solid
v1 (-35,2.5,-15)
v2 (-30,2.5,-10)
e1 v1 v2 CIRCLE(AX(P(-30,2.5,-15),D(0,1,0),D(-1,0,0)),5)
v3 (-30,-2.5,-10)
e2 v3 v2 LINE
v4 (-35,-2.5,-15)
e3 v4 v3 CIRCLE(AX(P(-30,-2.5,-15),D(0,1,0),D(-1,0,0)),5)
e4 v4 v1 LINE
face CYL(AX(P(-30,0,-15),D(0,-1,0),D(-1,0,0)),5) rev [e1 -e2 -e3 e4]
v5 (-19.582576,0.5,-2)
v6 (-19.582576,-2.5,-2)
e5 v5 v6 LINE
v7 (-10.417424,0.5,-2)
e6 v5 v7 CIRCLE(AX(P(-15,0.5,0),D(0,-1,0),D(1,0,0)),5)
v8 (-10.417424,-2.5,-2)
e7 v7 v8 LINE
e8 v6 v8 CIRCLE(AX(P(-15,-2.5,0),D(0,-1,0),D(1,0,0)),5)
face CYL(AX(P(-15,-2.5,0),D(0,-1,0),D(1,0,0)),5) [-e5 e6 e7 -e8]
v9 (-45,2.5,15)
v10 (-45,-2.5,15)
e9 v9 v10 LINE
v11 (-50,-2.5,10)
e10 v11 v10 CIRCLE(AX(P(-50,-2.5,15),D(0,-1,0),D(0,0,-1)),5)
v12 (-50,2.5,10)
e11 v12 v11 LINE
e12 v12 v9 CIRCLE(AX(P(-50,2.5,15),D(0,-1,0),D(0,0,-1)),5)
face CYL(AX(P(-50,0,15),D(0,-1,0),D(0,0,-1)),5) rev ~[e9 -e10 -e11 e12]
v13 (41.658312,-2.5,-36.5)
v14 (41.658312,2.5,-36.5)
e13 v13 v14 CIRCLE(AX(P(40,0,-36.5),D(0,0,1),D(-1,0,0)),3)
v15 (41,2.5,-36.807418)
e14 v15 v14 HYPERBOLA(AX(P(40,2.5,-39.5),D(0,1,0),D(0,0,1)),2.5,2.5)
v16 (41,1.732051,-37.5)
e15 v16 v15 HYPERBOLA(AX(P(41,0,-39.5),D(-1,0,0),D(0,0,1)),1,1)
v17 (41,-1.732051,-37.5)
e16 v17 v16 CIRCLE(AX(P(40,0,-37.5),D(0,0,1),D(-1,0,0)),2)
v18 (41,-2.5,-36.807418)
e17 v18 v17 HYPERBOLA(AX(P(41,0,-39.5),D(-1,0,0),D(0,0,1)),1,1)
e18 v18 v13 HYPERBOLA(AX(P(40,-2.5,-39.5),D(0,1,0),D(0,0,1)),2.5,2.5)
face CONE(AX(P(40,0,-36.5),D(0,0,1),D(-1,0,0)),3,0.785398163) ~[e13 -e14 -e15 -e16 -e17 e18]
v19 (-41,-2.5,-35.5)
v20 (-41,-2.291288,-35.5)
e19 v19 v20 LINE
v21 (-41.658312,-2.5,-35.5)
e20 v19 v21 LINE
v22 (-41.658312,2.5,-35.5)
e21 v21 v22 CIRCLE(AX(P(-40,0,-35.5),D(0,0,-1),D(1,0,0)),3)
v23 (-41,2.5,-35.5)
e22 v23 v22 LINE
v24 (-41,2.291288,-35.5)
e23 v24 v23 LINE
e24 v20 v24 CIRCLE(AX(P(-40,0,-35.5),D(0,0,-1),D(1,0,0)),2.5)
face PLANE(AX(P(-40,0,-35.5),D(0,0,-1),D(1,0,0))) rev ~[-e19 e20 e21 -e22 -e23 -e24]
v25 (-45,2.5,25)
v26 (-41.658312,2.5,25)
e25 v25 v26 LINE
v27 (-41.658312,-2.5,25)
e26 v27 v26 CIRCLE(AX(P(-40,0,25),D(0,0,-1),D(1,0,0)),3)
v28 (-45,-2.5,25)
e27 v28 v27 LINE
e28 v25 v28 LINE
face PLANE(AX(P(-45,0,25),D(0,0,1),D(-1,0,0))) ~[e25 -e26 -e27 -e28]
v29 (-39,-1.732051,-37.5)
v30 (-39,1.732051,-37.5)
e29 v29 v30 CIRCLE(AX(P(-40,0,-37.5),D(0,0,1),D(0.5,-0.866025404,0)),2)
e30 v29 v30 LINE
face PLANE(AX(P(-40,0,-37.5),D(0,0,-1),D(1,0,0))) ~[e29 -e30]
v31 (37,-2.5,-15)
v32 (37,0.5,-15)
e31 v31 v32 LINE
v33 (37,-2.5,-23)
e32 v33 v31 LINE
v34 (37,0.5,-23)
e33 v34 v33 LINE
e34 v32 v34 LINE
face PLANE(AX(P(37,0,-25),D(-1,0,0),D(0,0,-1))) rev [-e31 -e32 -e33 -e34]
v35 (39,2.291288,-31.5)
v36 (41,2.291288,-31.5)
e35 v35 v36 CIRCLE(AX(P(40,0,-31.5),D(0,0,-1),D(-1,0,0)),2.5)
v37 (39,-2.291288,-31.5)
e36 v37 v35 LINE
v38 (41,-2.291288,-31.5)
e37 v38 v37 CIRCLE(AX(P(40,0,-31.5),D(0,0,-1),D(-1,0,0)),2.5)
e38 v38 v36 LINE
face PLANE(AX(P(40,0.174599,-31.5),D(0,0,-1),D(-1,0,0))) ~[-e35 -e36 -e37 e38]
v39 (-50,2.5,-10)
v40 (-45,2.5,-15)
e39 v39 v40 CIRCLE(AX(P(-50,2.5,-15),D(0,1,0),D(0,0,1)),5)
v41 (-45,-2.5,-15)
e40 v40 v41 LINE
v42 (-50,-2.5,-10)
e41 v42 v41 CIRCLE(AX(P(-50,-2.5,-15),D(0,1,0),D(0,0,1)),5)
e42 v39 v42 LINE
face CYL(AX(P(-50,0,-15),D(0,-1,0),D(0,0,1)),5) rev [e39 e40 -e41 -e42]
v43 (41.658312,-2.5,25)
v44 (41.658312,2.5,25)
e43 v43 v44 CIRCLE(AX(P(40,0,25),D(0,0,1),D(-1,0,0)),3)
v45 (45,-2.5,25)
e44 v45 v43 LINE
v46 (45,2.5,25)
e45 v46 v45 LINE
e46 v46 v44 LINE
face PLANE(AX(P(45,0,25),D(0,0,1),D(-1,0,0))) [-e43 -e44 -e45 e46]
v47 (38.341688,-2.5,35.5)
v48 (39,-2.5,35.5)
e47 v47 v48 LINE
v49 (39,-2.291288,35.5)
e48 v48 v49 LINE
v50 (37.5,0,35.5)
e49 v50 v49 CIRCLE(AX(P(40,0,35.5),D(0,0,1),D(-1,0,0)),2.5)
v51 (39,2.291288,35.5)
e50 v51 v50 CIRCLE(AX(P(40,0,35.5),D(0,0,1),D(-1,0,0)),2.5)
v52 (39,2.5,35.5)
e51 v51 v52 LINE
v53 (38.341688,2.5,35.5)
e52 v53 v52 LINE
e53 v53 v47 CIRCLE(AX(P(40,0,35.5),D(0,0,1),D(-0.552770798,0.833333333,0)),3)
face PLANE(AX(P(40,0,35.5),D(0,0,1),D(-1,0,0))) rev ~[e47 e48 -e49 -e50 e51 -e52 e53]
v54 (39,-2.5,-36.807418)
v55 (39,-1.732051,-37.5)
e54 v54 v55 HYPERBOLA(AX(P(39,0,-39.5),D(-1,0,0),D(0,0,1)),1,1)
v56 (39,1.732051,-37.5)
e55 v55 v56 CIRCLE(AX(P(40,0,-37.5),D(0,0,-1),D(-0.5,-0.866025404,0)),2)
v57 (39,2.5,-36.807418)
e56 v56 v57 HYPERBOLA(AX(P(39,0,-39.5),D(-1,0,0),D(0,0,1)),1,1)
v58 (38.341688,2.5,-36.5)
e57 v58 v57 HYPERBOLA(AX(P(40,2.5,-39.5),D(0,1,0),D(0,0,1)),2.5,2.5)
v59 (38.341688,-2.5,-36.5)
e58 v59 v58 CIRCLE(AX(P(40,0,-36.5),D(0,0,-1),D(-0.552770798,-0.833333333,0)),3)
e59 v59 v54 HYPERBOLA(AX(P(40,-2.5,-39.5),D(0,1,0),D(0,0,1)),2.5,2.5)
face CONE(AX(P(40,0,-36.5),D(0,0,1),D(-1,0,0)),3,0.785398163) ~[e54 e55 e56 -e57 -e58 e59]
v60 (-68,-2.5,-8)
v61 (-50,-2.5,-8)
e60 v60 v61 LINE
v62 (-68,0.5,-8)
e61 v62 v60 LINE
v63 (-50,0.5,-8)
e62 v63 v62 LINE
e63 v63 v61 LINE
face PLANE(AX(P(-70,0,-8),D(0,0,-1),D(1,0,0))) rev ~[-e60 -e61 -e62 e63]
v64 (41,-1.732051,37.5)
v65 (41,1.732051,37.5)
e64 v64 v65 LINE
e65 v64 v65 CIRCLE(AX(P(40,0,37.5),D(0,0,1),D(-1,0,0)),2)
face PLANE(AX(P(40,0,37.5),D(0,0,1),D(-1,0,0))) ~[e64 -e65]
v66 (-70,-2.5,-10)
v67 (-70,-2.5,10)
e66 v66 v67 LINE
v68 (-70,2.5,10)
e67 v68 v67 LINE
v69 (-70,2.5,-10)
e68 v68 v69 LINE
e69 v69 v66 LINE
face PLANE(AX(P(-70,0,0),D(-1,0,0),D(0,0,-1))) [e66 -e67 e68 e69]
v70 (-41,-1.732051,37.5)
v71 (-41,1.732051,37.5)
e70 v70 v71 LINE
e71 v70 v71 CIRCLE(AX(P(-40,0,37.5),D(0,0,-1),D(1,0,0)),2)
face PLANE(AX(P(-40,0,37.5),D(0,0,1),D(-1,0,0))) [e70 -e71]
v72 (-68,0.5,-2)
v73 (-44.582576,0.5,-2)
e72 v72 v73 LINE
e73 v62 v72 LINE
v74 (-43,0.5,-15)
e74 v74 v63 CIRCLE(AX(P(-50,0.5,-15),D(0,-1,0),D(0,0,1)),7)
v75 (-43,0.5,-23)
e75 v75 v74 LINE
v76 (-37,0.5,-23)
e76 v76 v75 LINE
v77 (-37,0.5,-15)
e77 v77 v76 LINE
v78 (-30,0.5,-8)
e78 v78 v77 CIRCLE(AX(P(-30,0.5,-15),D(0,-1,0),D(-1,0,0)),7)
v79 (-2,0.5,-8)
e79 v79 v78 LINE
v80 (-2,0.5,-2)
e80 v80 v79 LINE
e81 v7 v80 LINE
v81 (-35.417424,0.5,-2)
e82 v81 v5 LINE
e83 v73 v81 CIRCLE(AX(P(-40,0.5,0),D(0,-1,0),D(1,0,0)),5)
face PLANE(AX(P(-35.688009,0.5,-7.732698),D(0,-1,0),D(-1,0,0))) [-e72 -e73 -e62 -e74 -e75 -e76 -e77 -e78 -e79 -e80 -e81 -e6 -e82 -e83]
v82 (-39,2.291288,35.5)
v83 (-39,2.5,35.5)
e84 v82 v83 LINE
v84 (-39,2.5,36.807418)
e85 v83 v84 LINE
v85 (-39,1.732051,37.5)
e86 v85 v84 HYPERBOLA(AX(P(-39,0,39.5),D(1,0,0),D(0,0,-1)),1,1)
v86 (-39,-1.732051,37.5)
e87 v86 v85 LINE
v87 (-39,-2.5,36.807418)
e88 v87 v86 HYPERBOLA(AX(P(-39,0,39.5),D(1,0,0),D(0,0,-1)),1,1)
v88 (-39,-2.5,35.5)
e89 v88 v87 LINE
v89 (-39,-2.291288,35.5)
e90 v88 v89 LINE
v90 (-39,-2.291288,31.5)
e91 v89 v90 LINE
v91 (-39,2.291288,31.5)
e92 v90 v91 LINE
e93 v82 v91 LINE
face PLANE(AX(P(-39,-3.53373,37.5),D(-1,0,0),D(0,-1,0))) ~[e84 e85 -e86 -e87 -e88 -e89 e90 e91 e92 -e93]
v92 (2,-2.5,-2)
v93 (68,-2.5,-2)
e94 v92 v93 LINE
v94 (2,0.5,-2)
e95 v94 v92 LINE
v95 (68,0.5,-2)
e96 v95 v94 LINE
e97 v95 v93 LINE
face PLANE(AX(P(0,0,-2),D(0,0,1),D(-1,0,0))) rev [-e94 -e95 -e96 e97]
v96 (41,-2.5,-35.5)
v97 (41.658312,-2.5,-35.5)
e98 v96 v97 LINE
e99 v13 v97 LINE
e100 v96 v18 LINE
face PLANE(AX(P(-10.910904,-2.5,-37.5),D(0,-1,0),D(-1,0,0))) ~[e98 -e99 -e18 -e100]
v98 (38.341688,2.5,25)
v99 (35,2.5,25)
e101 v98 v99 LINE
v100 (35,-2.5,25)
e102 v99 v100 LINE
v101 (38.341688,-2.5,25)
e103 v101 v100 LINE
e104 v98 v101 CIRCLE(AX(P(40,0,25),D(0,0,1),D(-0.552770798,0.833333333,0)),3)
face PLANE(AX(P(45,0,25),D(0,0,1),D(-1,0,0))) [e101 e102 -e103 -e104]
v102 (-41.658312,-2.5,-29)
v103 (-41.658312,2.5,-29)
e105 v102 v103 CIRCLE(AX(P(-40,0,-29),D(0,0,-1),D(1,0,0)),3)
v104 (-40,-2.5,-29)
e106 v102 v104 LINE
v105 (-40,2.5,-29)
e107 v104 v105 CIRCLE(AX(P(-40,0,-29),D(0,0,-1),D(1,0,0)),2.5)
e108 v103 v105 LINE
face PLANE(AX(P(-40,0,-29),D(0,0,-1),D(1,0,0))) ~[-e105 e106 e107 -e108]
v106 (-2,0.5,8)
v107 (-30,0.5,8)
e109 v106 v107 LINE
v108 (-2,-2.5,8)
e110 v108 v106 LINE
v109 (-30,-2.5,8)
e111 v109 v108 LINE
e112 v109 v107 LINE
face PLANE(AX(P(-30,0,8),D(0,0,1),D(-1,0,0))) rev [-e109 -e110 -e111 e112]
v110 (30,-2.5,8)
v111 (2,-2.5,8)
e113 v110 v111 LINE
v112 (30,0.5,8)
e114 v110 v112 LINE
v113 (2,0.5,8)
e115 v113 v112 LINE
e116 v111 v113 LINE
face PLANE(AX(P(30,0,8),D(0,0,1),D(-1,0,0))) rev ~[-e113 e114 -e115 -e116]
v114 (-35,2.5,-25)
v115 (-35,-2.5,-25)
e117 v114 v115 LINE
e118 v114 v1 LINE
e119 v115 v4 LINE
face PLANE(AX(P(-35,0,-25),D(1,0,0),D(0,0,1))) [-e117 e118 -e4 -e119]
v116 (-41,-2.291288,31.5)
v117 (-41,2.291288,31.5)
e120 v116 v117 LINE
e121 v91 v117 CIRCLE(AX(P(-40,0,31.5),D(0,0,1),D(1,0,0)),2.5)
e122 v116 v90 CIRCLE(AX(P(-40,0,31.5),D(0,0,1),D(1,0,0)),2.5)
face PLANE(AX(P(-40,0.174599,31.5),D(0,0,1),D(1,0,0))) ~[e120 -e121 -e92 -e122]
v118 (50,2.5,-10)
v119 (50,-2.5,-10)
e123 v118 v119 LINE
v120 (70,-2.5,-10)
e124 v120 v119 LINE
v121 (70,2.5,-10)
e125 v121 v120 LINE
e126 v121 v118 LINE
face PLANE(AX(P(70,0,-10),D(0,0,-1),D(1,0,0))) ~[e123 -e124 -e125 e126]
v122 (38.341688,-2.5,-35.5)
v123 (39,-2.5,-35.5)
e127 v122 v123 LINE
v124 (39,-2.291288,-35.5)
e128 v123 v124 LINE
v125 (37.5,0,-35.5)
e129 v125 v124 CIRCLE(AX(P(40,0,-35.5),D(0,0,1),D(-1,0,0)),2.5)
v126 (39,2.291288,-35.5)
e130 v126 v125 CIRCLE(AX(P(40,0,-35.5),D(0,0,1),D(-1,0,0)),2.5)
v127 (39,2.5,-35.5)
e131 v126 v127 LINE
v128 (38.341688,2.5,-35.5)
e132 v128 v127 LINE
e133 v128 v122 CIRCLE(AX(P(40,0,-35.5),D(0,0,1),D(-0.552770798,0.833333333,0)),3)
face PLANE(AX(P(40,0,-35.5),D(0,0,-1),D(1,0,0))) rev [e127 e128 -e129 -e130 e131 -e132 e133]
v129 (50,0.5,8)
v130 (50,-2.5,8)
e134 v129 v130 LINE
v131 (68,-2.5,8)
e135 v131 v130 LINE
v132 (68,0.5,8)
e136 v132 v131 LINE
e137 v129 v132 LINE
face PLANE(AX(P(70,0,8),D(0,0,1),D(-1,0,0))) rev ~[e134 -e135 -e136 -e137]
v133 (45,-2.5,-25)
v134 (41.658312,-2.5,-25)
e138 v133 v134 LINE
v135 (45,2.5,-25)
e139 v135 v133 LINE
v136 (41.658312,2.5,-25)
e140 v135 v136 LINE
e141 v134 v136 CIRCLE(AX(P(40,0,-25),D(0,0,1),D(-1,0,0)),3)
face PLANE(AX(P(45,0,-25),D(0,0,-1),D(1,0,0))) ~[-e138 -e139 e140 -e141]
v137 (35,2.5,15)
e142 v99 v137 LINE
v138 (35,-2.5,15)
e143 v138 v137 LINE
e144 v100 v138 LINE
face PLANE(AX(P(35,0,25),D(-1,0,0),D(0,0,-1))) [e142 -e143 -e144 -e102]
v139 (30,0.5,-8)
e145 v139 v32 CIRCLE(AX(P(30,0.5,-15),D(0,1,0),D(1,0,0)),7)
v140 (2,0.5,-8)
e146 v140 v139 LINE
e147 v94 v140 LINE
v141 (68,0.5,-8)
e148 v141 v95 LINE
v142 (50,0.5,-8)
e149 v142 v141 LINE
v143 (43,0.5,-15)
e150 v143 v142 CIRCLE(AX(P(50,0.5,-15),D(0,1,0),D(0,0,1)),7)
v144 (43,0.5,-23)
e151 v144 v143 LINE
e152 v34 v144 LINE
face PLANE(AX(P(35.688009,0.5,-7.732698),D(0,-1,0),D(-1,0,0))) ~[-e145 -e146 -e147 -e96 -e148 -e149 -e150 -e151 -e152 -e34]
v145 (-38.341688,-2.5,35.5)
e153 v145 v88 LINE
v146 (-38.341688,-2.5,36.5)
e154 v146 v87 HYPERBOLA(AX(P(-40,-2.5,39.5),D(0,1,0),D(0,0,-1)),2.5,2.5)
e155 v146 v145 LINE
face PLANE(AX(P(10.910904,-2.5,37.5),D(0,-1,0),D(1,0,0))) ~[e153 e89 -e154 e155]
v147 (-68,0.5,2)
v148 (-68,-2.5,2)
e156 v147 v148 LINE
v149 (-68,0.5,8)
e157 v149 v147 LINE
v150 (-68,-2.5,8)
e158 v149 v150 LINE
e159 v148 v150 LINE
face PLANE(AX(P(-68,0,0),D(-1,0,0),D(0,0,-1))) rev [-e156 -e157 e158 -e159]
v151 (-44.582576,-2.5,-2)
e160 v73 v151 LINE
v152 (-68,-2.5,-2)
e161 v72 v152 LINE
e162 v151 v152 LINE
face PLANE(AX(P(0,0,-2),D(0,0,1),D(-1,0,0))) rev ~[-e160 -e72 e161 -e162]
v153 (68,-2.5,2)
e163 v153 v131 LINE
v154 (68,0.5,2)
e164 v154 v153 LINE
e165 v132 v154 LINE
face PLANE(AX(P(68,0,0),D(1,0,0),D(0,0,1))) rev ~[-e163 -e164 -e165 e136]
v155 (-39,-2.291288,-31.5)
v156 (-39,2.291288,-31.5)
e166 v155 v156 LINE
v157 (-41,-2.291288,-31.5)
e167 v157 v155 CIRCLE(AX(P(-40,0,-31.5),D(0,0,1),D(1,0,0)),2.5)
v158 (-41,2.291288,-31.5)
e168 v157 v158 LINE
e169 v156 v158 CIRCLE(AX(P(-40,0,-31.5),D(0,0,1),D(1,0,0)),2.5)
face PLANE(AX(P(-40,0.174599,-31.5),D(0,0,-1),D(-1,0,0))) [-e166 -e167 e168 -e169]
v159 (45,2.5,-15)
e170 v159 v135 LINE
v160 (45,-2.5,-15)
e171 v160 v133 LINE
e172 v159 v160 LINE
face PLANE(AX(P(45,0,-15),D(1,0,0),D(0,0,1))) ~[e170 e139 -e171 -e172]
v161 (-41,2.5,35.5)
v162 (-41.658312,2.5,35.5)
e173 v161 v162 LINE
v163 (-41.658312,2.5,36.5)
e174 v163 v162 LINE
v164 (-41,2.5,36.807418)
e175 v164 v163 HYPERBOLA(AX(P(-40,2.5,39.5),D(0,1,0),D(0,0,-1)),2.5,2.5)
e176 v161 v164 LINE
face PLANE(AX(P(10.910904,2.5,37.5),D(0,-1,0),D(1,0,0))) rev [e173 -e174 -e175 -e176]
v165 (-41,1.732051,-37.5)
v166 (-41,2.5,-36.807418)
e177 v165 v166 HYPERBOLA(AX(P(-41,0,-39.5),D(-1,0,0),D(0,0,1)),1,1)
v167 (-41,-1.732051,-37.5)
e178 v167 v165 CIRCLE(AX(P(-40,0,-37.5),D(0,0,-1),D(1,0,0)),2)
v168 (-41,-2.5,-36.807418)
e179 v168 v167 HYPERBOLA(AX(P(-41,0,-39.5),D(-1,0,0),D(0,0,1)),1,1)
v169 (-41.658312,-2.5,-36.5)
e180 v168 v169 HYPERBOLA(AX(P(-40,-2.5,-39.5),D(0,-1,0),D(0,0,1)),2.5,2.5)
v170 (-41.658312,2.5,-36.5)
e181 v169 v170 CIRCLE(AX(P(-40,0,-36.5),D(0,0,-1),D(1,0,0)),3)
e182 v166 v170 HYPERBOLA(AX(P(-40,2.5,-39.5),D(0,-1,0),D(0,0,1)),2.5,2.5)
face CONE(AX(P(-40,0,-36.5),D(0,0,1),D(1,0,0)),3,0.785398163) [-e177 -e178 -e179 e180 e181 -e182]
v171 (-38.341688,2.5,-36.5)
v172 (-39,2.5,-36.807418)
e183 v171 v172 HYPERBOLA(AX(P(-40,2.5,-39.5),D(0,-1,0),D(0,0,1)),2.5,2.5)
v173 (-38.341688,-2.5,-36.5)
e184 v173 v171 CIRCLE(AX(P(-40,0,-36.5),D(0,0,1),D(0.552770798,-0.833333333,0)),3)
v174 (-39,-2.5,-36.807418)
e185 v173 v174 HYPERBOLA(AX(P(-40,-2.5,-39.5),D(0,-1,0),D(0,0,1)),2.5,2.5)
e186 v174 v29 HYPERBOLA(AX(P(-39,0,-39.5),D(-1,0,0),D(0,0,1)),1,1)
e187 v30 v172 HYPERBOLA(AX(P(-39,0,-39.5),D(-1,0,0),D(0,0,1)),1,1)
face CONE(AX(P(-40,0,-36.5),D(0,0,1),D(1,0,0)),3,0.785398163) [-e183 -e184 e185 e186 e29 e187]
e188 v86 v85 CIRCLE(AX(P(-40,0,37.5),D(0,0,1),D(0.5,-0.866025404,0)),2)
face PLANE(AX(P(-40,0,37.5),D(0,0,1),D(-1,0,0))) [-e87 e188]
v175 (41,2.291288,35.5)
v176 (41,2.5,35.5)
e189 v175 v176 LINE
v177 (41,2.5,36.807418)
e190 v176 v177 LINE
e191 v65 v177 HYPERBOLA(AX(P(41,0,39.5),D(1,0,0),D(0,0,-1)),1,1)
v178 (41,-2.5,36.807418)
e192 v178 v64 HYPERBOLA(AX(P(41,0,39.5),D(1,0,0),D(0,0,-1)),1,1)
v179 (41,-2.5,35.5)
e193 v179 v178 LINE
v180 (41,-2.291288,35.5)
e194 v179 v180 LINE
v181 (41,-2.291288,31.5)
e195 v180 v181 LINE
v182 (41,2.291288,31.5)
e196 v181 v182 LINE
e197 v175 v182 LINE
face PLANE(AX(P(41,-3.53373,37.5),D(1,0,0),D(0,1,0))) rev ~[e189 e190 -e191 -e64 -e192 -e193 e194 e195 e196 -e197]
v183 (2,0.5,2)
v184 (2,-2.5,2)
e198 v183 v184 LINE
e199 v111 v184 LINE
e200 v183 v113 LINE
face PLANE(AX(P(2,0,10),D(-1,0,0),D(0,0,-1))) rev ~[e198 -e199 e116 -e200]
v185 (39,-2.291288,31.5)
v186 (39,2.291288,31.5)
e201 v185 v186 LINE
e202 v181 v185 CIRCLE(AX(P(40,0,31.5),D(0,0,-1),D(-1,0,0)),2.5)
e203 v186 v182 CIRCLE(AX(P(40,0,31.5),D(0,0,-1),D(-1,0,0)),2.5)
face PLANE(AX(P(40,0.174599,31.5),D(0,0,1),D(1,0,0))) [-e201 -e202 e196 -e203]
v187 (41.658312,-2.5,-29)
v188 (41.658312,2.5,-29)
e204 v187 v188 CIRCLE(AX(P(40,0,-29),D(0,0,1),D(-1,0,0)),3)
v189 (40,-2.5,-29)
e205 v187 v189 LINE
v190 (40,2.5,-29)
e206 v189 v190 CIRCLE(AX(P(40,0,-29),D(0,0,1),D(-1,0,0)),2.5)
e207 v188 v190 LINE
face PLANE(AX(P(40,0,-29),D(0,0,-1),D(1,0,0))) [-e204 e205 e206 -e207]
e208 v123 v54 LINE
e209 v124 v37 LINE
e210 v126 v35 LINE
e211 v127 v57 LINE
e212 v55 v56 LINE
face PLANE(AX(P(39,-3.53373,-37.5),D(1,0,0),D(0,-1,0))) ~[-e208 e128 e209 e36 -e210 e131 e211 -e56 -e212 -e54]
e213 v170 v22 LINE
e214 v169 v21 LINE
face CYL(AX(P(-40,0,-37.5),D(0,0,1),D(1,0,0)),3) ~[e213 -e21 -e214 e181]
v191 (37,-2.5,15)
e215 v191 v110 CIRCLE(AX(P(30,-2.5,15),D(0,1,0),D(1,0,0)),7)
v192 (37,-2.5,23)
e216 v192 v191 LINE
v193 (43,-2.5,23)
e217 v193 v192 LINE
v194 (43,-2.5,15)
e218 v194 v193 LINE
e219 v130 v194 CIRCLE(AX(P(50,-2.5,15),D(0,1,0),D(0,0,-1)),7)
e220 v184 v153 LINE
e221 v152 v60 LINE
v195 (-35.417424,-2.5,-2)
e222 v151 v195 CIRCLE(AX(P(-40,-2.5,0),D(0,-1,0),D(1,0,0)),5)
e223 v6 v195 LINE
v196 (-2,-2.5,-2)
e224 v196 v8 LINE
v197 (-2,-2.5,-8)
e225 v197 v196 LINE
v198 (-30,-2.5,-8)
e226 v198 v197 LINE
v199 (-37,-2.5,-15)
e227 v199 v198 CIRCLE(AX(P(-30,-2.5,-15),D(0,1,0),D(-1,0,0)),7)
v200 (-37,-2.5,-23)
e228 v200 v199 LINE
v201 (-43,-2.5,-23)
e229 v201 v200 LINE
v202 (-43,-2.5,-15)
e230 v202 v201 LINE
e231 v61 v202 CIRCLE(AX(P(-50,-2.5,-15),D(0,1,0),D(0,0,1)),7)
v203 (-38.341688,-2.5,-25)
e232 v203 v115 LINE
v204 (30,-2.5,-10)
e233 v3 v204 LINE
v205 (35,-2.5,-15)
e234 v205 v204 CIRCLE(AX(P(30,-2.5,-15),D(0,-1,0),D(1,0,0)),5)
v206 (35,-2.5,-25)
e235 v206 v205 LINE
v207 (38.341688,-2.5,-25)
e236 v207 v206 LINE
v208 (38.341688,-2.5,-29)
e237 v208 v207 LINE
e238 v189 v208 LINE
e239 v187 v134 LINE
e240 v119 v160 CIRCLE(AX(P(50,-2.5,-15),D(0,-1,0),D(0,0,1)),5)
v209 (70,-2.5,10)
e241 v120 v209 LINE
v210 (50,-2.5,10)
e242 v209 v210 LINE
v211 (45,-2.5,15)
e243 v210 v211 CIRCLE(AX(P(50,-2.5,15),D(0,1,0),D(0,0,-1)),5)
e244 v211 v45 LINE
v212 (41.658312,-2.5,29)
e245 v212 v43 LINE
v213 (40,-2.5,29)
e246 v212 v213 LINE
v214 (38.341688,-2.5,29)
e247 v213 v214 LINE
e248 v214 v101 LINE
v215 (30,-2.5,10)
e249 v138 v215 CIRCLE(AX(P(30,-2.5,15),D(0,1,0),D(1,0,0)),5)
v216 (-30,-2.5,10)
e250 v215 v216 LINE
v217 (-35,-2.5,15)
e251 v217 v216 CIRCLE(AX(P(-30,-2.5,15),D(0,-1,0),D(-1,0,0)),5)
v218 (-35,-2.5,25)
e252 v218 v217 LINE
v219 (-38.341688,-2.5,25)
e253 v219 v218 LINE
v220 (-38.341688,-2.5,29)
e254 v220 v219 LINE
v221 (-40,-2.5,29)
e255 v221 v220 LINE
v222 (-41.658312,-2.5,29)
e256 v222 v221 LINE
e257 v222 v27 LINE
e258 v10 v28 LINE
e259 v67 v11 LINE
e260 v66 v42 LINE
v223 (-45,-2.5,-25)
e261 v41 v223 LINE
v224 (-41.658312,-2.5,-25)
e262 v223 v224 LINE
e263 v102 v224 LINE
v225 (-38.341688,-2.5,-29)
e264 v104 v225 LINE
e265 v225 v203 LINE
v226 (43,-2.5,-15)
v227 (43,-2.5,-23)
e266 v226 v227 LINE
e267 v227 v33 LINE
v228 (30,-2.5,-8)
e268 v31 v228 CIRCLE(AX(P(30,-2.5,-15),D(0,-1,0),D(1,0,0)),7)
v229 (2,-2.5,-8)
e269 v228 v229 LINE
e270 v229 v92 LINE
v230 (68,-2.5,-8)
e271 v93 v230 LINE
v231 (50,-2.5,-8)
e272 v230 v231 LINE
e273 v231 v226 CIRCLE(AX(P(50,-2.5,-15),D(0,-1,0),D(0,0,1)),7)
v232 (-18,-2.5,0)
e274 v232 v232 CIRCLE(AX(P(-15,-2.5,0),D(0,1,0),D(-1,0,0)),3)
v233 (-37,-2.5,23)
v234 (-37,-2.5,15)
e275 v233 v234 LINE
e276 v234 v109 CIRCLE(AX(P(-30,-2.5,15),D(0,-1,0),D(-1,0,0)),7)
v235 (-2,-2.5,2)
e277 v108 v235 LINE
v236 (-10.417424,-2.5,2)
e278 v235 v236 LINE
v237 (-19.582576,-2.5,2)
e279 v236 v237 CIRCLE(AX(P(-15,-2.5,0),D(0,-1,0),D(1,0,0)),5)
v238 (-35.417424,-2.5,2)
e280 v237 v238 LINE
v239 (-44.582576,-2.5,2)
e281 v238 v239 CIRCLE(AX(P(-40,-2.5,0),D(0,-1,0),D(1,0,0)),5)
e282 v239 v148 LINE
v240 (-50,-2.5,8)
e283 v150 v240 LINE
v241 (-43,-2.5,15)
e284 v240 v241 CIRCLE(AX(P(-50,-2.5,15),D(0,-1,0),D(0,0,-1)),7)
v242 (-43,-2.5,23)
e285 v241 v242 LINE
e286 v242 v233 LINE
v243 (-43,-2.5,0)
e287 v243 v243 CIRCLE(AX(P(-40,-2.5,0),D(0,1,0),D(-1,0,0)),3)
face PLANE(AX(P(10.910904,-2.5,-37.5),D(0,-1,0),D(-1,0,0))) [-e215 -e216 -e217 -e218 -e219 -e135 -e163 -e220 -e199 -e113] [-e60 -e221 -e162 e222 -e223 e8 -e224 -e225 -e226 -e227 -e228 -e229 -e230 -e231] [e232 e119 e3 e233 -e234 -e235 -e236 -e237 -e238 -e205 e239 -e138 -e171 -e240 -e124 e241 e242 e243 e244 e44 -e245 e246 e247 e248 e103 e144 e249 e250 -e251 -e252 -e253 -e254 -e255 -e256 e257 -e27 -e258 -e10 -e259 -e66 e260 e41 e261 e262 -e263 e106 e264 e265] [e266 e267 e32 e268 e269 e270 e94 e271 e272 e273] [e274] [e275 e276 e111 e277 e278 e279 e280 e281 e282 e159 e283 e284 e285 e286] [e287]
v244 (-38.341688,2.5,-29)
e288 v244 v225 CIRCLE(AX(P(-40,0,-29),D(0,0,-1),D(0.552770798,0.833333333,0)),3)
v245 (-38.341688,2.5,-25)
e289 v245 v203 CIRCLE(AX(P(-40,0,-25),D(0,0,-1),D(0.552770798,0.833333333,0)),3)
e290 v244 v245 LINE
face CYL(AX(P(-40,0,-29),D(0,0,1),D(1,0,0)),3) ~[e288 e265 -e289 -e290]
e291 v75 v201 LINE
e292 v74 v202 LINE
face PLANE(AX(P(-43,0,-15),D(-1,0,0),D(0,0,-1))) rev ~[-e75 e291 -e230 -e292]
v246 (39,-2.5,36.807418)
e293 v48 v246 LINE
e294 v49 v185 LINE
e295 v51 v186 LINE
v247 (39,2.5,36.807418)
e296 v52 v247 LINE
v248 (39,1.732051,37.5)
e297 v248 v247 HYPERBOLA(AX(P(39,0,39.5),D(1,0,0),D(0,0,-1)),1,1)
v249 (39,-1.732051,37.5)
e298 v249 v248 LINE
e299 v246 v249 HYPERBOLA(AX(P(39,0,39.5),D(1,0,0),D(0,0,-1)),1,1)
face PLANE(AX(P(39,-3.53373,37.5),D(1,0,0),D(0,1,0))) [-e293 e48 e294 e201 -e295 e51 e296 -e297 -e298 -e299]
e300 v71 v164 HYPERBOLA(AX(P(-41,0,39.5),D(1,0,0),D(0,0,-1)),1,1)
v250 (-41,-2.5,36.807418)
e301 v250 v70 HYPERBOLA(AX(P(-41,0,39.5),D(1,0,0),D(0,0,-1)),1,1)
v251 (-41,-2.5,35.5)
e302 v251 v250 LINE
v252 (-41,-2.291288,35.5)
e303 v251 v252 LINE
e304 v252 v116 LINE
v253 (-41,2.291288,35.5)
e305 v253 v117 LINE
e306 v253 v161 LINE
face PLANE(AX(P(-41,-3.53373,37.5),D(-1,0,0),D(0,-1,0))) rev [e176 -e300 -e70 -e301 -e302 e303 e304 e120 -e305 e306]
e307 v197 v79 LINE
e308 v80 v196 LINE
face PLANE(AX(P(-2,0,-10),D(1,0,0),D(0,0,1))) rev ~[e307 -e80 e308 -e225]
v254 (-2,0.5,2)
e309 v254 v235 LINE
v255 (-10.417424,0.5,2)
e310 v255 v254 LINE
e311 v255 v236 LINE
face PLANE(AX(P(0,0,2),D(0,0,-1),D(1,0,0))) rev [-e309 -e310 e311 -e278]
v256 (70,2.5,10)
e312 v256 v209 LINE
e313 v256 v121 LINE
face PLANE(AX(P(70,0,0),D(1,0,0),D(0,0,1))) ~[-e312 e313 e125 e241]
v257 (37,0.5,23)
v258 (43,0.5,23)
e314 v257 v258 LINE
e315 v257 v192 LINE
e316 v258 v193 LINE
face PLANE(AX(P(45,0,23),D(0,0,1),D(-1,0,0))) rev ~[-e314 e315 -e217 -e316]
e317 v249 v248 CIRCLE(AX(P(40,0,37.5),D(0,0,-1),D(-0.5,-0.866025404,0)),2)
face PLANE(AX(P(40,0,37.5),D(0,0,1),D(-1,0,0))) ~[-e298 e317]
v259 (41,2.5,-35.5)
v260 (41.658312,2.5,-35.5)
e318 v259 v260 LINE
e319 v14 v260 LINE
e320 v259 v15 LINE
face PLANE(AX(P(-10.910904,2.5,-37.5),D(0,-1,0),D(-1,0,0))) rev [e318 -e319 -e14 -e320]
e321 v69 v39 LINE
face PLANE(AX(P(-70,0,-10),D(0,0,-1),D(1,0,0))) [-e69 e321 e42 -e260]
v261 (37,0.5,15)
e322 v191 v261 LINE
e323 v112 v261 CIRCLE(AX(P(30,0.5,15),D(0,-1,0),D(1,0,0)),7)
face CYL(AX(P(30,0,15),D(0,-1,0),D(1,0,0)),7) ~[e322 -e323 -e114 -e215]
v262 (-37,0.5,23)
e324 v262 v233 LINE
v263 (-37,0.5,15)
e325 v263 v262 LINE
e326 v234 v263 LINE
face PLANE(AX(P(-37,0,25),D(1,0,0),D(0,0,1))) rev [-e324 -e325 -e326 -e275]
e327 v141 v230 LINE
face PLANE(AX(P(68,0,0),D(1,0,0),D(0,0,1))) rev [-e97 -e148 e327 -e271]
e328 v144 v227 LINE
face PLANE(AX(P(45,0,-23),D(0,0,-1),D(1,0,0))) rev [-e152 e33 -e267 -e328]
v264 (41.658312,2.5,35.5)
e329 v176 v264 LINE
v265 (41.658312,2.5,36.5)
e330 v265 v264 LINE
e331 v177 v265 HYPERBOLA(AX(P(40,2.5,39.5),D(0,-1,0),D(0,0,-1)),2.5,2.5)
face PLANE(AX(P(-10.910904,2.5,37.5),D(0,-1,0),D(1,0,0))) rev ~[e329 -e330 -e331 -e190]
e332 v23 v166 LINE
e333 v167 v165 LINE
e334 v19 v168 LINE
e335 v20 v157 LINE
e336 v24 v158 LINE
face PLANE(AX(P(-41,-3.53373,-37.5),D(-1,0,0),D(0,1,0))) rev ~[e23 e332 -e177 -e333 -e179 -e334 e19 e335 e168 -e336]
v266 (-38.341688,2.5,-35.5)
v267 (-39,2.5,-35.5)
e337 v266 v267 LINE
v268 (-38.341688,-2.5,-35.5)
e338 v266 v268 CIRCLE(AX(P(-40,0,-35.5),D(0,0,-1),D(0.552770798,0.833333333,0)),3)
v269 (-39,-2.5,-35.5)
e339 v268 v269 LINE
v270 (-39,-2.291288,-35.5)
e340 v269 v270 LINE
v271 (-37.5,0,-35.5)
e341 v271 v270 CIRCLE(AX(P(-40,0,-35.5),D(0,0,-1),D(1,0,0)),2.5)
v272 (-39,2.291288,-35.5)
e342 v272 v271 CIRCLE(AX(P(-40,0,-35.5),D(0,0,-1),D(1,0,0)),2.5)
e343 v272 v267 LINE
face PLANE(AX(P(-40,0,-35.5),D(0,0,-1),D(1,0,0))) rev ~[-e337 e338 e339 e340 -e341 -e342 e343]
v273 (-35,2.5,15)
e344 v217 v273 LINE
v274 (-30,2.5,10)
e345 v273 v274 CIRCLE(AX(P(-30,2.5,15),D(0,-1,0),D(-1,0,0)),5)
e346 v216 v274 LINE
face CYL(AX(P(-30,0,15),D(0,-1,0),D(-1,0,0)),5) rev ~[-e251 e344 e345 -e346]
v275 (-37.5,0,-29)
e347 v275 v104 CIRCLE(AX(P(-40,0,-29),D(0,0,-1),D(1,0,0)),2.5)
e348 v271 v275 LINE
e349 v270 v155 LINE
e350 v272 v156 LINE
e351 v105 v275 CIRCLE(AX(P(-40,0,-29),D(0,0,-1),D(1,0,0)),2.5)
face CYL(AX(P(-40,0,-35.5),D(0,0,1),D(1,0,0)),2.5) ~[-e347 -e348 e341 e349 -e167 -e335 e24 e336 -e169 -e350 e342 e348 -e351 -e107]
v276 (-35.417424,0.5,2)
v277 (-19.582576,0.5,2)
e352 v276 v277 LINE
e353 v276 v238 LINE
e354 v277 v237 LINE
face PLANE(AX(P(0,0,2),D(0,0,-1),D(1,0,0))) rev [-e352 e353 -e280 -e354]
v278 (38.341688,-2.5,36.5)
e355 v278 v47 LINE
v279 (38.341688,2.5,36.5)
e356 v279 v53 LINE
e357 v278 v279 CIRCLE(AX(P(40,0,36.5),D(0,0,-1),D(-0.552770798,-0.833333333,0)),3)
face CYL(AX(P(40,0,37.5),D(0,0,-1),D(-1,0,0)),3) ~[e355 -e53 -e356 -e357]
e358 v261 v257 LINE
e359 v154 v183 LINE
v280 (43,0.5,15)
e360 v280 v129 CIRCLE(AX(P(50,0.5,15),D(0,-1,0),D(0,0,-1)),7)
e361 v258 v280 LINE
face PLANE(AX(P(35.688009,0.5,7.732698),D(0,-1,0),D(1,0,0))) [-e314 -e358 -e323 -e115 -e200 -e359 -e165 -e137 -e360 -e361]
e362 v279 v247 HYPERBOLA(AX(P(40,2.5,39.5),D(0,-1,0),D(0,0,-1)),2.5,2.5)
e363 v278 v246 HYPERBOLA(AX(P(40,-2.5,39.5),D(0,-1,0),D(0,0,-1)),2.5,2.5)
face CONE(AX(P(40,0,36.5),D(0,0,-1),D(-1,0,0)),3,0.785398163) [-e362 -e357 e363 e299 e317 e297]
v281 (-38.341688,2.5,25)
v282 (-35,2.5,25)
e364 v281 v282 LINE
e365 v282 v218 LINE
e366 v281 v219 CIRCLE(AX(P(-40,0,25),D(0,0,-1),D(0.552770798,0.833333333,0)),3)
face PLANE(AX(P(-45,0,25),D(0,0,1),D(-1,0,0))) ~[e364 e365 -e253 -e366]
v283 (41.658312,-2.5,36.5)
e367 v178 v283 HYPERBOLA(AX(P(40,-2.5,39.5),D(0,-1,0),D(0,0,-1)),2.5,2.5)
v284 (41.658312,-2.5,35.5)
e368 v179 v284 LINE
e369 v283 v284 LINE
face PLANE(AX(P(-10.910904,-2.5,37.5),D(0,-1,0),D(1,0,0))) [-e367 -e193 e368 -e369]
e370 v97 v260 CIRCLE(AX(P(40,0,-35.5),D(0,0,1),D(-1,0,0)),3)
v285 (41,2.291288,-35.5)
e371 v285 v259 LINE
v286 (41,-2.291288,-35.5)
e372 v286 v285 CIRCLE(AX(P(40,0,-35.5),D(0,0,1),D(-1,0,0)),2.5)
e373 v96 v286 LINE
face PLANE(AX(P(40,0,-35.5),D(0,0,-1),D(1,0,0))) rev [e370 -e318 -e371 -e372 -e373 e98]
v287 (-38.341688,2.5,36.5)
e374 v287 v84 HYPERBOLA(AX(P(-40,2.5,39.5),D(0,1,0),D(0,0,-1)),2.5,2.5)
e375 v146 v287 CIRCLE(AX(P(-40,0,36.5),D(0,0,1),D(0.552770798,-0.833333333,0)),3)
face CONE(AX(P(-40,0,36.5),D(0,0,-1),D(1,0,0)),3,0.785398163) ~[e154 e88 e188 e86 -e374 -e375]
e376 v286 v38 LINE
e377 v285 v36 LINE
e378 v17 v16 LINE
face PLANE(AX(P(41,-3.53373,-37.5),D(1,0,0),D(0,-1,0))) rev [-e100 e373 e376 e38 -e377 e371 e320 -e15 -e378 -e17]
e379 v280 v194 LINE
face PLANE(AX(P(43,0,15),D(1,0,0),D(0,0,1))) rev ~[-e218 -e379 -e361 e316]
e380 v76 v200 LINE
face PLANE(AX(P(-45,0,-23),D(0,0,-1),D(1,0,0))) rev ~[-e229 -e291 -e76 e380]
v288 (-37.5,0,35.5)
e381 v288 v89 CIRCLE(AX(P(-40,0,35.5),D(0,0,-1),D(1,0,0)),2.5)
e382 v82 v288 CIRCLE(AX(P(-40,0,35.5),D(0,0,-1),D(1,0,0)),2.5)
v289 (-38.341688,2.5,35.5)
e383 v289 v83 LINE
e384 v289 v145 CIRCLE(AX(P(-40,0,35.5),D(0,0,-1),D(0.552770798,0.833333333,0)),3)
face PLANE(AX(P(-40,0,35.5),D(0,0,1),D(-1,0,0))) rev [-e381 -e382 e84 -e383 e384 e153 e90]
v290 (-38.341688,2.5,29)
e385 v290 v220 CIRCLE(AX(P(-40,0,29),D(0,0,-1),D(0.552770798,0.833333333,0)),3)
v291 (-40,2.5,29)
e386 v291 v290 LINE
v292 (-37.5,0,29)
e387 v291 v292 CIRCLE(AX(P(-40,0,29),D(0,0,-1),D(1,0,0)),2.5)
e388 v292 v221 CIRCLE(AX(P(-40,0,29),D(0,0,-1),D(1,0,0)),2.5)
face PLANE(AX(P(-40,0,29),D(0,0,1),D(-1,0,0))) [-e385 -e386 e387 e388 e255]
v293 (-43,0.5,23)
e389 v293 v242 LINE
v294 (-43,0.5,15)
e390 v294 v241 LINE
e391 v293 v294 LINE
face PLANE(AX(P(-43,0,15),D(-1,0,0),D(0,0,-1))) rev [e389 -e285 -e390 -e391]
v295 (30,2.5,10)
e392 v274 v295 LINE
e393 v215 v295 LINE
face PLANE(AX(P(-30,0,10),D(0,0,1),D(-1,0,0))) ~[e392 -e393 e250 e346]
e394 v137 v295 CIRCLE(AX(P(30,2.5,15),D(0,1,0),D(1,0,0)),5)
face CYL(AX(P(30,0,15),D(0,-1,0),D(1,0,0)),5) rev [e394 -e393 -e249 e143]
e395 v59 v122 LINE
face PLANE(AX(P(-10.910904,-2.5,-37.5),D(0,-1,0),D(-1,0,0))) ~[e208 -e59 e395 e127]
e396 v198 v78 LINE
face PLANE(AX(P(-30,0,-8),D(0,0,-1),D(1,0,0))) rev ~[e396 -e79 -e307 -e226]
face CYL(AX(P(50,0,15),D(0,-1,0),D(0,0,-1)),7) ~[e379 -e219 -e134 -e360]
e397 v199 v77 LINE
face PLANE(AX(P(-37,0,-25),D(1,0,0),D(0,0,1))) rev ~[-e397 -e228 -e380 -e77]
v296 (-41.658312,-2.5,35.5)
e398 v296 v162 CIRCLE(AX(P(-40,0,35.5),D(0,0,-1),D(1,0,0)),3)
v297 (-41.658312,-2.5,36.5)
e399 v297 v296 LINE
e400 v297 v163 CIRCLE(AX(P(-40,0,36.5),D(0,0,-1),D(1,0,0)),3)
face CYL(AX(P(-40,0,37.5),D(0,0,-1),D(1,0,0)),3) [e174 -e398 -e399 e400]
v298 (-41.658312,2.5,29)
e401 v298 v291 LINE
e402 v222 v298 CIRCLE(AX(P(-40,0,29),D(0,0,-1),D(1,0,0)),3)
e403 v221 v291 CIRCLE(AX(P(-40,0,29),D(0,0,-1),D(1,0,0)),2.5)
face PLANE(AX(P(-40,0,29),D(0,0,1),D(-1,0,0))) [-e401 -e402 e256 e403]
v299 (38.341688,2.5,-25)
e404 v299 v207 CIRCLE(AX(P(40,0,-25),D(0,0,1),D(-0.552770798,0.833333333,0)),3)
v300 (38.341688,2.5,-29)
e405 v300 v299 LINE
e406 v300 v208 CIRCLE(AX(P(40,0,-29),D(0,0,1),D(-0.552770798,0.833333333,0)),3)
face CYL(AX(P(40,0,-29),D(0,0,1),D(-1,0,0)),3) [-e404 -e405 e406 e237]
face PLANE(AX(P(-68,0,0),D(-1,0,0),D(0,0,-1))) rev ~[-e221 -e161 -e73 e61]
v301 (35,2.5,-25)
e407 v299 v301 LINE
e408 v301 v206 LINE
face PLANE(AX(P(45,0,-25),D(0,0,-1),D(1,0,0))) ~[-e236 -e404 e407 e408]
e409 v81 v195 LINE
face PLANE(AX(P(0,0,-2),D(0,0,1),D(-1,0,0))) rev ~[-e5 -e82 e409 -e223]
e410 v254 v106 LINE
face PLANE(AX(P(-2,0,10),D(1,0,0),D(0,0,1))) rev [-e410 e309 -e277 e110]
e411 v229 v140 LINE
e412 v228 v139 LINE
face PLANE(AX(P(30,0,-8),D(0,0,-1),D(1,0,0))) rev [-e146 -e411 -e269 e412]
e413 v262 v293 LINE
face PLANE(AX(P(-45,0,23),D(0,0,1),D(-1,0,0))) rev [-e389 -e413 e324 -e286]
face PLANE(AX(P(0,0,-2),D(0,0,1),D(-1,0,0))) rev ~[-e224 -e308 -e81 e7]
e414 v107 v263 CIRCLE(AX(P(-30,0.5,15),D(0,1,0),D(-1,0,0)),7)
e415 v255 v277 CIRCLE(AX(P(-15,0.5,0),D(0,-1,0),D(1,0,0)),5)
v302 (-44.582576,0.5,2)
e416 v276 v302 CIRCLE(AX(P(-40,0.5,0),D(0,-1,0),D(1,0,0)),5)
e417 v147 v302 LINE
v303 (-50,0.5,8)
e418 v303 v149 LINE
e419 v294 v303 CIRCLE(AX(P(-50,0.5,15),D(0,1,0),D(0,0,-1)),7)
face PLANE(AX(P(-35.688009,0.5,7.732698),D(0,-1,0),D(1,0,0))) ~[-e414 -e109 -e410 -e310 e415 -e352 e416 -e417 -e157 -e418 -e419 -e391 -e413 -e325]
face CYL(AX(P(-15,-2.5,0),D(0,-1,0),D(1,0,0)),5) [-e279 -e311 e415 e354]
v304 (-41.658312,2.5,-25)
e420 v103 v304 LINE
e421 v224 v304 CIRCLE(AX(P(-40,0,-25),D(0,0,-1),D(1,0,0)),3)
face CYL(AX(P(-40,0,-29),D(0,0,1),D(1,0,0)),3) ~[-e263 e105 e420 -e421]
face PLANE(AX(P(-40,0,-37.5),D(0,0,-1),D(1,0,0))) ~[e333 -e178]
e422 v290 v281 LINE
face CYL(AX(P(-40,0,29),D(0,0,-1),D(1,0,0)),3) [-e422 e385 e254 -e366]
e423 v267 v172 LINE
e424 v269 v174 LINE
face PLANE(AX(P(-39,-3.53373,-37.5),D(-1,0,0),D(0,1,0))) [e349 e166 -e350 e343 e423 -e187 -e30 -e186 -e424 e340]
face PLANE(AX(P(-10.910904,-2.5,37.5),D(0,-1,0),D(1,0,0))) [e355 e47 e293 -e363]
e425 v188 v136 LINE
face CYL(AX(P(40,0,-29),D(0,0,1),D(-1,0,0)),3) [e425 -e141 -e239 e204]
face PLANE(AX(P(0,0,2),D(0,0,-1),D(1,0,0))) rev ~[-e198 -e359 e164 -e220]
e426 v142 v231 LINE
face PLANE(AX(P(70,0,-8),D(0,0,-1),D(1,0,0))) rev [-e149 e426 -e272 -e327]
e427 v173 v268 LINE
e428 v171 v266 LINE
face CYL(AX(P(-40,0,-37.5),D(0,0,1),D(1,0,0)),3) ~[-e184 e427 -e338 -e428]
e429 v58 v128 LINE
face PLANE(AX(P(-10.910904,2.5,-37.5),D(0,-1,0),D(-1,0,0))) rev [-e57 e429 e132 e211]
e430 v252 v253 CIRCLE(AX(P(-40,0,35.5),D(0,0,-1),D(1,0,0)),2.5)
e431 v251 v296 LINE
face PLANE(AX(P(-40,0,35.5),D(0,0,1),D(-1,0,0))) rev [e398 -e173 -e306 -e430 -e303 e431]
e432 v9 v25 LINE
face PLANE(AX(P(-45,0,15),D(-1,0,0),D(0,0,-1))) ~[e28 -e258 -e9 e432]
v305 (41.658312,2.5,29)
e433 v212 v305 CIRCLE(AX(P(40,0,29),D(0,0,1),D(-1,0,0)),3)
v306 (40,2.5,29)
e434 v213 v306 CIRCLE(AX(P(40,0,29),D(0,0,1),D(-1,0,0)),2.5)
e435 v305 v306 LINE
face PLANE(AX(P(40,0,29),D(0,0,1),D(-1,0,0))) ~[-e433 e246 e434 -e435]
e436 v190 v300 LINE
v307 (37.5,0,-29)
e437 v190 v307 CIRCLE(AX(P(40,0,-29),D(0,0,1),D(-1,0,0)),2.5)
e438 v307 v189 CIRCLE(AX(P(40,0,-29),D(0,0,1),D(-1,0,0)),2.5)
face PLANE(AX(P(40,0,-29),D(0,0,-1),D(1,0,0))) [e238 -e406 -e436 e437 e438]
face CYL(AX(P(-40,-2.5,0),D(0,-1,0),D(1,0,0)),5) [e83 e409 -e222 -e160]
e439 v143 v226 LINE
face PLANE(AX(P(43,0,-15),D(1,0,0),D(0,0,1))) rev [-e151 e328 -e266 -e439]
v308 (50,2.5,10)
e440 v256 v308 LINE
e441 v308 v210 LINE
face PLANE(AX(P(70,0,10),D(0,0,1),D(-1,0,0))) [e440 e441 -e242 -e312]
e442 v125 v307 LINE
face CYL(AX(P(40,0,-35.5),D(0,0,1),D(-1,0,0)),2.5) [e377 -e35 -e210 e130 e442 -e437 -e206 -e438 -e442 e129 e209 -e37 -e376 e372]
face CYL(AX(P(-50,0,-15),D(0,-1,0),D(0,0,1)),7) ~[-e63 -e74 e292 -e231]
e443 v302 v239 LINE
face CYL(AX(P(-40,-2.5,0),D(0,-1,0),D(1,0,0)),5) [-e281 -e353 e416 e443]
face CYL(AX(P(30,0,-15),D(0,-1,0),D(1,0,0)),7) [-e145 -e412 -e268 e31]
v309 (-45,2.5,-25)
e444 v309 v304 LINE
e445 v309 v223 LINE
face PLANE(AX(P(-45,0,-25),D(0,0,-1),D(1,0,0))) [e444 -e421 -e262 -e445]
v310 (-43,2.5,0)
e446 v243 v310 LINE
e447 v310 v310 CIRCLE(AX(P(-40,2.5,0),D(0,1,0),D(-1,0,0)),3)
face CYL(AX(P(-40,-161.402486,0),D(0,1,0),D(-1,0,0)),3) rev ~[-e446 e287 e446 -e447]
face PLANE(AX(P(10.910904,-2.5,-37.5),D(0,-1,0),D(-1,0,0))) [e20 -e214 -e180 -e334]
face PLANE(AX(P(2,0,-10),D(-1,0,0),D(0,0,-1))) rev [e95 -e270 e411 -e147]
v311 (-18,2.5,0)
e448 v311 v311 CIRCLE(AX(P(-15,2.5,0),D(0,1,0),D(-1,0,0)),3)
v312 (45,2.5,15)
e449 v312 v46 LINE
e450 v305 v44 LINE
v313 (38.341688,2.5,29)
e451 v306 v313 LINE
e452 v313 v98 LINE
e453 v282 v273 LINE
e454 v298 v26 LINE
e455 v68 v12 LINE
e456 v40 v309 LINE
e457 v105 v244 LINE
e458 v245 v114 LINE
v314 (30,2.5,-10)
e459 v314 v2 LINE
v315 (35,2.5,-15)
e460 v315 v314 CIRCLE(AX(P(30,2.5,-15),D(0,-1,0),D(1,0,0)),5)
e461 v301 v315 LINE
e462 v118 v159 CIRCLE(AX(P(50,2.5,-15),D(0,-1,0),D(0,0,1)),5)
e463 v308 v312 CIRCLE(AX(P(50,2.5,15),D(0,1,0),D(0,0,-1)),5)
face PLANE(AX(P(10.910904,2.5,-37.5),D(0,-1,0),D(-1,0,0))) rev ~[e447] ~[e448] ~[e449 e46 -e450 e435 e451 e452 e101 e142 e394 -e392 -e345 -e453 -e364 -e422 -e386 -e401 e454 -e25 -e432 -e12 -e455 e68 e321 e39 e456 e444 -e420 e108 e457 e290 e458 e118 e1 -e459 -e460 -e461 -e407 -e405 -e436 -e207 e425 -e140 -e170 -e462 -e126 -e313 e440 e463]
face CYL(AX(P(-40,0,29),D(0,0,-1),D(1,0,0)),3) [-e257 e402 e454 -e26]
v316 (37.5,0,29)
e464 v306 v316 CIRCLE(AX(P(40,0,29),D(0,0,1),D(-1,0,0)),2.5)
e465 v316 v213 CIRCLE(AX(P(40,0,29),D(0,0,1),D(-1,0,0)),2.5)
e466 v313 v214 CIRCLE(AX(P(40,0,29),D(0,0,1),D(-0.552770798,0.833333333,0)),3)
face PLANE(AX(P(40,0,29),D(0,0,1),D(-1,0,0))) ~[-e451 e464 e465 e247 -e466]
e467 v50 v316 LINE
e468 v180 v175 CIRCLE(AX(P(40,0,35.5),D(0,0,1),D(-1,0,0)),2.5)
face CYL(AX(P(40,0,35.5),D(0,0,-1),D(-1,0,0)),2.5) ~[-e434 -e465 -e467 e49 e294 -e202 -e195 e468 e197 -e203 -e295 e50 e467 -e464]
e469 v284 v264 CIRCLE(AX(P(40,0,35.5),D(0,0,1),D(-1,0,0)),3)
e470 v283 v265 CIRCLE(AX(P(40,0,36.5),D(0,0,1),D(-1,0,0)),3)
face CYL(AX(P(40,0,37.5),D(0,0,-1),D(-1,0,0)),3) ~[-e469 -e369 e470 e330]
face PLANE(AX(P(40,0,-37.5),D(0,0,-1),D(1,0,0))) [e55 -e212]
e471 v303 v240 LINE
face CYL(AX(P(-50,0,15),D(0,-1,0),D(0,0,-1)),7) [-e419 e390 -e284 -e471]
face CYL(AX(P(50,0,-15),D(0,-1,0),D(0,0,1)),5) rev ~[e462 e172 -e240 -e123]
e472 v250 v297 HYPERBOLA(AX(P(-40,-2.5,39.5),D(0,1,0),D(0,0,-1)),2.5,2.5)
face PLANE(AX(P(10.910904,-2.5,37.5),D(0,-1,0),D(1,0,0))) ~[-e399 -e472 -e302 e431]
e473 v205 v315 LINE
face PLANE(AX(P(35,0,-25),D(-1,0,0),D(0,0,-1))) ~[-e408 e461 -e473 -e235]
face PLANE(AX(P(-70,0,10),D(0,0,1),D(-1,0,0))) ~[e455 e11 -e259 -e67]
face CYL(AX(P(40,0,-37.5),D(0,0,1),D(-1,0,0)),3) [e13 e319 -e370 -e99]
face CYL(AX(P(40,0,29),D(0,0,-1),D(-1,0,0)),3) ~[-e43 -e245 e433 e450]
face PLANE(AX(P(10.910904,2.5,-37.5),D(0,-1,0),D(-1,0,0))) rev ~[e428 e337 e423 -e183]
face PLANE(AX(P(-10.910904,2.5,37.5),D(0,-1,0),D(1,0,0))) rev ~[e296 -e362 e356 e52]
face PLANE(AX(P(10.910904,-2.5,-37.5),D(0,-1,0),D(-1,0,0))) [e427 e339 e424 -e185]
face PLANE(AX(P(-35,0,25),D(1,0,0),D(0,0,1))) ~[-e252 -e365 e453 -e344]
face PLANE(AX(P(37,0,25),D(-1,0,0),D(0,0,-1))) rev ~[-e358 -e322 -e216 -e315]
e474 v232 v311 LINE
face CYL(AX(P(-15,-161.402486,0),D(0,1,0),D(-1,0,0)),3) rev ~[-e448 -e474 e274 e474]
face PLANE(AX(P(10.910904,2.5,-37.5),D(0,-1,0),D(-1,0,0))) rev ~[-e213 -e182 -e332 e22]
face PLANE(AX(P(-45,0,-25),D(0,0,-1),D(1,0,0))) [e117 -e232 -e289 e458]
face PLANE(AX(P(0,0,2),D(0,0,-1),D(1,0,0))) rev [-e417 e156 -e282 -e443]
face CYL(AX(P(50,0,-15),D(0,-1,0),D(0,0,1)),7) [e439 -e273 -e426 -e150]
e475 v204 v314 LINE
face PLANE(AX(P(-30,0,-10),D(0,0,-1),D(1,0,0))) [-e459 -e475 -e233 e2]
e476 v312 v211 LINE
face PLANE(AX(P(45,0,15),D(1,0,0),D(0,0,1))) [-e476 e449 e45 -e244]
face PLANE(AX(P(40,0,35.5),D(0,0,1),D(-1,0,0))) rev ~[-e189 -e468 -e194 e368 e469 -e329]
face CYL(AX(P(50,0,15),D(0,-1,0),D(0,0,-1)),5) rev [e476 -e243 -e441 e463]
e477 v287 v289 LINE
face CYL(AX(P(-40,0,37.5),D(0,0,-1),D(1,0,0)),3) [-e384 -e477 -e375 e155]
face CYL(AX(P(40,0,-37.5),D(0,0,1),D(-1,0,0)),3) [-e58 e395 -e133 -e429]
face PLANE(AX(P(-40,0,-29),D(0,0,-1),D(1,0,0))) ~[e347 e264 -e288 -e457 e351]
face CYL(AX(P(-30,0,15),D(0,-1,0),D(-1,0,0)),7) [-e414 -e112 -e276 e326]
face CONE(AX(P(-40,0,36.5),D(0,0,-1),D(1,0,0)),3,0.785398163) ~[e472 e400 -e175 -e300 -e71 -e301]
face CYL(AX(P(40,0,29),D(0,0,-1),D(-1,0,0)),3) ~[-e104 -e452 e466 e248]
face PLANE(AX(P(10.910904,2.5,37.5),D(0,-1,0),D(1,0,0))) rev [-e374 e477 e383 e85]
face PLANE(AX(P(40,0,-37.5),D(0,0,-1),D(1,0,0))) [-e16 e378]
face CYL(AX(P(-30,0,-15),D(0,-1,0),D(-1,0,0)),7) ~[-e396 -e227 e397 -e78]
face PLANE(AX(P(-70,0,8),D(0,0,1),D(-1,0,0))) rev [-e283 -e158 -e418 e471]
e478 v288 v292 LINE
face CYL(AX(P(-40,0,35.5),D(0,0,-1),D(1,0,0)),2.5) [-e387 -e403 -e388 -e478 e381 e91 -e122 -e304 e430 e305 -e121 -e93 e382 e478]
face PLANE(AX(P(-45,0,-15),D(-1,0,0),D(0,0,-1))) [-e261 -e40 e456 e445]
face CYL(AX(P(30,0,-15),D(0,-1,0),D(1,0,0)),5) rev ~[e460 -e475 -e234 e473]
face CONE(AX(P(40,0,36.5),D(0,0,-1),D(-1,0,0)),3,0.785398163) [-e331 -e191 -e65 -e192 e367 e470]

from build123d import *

# Parameters (mm, degrees)
F1_DEPTH  = 2.5
F2_T      = -2
F5_SIZE   = 1
F6_W      = 84.8522958381
F6_H      = 5
F7_DEPTH  = 37.501
F8_W      = 2
F8_H      = 7.4166591092
F9_DEPTH  = 6
F12_R     = 5
F13_DEPTH = 5
F15_D     = 6


with BuildPart() as f1:
    # F0 (on Front) → F1 (new body, symmetric)
    with BuildSketch(Plane.XZ):
        with BuildLine():
            Line((0, 10), (0, 0))
            Line((0, 0), (70, 0))
            Line((70, 0), (70, 10))
            Line((70, 10), (50, 10))
            ThreePointArc((50, 10), (46.4644660941, 11.4644660941), (45, 15))
            Line((45, 15), (45, 25))
            Line((45, 25), (35, 25))
            Line((35, 25), (35, 15))
            ThreePointArc((35, 15), (33.5355339059, 11.4644660941), (30, 10))
            Line((30, 10), (0, 10))
        make_face()
    extrude(amount=F1_DEPTH, both=True)

    # F2
    f2_openings = [f1.faces().sort_by_distance(p)[0] for p in [
        (35.933685, -2.5, 7.254637),
    ]]
    offset(amount=F2_T, openings=f2_openings)

    # F3 (on Front) → F4 (revolve)
    with BuildSketch(Plane.XZ):
        Polygon((37, 25), (40, 25), (40, 37.5), (37, 37.5), (37, 35.5), (37.5, 35.5), (37.5, 29), (37, 29), align=None)
    revolve(axis=Axis((40, 0, 31.25), (0, 0, 1)))

    # F5
    f5_edges = [f1.edges().sort_by_distance(p)[0] for p in [
        (43, 0, 37.5),
    ]]
    chamfer(f5_edges, length=F5_SIZE)

    # F6 (on face) → F7 (intersect, through all)
    with BuildSketch(Plane.XY.offset(37.5)):
        with Locations((31.5152438125, 0)):
            Rectangle(F6_W, F6_H)
    extrude(amount=-F7_DEPTH, mode=Mode.INTERSECT)

    # F8 (on face) → F9 (cut)
    with BuildSketch(Plane.XY.offset(37.5)):
        with Locations((40, 0.1745994668)):
            Rectangle(F8_W, F8_H)
    extrude(amount=-F9_DEPTH, mode=Mode.SUBTRACT)

    # F10: F1 across plane


with BuildPart() as f1_1:
    add(f1.part)
    add(f1.part.mirror(Plane.XY))

    # F11: F1 across plane


with BuildPart() as f1_2:
    add(f1_1.part)
    add(f1_1.part.mirror(Plane.YZ))

    # F12 (on face) → F13 (join, through all)
    with BuildSketch(Plane.XZ.offset(2.5)):
        with Locations((-40, 0)):
            Circle(F12_R)
        with Locations((-15, 0)):
            Circle(F12_R)
    extrude(amount=-F13_DEPTH)

    # F15 (through all)
    with Locations(Plane.XZ.offset(2.5)):
        with Locations((-40, 0), (-15, 0)):
            Hole(F15_D / 2)


solid = f1_2.part
